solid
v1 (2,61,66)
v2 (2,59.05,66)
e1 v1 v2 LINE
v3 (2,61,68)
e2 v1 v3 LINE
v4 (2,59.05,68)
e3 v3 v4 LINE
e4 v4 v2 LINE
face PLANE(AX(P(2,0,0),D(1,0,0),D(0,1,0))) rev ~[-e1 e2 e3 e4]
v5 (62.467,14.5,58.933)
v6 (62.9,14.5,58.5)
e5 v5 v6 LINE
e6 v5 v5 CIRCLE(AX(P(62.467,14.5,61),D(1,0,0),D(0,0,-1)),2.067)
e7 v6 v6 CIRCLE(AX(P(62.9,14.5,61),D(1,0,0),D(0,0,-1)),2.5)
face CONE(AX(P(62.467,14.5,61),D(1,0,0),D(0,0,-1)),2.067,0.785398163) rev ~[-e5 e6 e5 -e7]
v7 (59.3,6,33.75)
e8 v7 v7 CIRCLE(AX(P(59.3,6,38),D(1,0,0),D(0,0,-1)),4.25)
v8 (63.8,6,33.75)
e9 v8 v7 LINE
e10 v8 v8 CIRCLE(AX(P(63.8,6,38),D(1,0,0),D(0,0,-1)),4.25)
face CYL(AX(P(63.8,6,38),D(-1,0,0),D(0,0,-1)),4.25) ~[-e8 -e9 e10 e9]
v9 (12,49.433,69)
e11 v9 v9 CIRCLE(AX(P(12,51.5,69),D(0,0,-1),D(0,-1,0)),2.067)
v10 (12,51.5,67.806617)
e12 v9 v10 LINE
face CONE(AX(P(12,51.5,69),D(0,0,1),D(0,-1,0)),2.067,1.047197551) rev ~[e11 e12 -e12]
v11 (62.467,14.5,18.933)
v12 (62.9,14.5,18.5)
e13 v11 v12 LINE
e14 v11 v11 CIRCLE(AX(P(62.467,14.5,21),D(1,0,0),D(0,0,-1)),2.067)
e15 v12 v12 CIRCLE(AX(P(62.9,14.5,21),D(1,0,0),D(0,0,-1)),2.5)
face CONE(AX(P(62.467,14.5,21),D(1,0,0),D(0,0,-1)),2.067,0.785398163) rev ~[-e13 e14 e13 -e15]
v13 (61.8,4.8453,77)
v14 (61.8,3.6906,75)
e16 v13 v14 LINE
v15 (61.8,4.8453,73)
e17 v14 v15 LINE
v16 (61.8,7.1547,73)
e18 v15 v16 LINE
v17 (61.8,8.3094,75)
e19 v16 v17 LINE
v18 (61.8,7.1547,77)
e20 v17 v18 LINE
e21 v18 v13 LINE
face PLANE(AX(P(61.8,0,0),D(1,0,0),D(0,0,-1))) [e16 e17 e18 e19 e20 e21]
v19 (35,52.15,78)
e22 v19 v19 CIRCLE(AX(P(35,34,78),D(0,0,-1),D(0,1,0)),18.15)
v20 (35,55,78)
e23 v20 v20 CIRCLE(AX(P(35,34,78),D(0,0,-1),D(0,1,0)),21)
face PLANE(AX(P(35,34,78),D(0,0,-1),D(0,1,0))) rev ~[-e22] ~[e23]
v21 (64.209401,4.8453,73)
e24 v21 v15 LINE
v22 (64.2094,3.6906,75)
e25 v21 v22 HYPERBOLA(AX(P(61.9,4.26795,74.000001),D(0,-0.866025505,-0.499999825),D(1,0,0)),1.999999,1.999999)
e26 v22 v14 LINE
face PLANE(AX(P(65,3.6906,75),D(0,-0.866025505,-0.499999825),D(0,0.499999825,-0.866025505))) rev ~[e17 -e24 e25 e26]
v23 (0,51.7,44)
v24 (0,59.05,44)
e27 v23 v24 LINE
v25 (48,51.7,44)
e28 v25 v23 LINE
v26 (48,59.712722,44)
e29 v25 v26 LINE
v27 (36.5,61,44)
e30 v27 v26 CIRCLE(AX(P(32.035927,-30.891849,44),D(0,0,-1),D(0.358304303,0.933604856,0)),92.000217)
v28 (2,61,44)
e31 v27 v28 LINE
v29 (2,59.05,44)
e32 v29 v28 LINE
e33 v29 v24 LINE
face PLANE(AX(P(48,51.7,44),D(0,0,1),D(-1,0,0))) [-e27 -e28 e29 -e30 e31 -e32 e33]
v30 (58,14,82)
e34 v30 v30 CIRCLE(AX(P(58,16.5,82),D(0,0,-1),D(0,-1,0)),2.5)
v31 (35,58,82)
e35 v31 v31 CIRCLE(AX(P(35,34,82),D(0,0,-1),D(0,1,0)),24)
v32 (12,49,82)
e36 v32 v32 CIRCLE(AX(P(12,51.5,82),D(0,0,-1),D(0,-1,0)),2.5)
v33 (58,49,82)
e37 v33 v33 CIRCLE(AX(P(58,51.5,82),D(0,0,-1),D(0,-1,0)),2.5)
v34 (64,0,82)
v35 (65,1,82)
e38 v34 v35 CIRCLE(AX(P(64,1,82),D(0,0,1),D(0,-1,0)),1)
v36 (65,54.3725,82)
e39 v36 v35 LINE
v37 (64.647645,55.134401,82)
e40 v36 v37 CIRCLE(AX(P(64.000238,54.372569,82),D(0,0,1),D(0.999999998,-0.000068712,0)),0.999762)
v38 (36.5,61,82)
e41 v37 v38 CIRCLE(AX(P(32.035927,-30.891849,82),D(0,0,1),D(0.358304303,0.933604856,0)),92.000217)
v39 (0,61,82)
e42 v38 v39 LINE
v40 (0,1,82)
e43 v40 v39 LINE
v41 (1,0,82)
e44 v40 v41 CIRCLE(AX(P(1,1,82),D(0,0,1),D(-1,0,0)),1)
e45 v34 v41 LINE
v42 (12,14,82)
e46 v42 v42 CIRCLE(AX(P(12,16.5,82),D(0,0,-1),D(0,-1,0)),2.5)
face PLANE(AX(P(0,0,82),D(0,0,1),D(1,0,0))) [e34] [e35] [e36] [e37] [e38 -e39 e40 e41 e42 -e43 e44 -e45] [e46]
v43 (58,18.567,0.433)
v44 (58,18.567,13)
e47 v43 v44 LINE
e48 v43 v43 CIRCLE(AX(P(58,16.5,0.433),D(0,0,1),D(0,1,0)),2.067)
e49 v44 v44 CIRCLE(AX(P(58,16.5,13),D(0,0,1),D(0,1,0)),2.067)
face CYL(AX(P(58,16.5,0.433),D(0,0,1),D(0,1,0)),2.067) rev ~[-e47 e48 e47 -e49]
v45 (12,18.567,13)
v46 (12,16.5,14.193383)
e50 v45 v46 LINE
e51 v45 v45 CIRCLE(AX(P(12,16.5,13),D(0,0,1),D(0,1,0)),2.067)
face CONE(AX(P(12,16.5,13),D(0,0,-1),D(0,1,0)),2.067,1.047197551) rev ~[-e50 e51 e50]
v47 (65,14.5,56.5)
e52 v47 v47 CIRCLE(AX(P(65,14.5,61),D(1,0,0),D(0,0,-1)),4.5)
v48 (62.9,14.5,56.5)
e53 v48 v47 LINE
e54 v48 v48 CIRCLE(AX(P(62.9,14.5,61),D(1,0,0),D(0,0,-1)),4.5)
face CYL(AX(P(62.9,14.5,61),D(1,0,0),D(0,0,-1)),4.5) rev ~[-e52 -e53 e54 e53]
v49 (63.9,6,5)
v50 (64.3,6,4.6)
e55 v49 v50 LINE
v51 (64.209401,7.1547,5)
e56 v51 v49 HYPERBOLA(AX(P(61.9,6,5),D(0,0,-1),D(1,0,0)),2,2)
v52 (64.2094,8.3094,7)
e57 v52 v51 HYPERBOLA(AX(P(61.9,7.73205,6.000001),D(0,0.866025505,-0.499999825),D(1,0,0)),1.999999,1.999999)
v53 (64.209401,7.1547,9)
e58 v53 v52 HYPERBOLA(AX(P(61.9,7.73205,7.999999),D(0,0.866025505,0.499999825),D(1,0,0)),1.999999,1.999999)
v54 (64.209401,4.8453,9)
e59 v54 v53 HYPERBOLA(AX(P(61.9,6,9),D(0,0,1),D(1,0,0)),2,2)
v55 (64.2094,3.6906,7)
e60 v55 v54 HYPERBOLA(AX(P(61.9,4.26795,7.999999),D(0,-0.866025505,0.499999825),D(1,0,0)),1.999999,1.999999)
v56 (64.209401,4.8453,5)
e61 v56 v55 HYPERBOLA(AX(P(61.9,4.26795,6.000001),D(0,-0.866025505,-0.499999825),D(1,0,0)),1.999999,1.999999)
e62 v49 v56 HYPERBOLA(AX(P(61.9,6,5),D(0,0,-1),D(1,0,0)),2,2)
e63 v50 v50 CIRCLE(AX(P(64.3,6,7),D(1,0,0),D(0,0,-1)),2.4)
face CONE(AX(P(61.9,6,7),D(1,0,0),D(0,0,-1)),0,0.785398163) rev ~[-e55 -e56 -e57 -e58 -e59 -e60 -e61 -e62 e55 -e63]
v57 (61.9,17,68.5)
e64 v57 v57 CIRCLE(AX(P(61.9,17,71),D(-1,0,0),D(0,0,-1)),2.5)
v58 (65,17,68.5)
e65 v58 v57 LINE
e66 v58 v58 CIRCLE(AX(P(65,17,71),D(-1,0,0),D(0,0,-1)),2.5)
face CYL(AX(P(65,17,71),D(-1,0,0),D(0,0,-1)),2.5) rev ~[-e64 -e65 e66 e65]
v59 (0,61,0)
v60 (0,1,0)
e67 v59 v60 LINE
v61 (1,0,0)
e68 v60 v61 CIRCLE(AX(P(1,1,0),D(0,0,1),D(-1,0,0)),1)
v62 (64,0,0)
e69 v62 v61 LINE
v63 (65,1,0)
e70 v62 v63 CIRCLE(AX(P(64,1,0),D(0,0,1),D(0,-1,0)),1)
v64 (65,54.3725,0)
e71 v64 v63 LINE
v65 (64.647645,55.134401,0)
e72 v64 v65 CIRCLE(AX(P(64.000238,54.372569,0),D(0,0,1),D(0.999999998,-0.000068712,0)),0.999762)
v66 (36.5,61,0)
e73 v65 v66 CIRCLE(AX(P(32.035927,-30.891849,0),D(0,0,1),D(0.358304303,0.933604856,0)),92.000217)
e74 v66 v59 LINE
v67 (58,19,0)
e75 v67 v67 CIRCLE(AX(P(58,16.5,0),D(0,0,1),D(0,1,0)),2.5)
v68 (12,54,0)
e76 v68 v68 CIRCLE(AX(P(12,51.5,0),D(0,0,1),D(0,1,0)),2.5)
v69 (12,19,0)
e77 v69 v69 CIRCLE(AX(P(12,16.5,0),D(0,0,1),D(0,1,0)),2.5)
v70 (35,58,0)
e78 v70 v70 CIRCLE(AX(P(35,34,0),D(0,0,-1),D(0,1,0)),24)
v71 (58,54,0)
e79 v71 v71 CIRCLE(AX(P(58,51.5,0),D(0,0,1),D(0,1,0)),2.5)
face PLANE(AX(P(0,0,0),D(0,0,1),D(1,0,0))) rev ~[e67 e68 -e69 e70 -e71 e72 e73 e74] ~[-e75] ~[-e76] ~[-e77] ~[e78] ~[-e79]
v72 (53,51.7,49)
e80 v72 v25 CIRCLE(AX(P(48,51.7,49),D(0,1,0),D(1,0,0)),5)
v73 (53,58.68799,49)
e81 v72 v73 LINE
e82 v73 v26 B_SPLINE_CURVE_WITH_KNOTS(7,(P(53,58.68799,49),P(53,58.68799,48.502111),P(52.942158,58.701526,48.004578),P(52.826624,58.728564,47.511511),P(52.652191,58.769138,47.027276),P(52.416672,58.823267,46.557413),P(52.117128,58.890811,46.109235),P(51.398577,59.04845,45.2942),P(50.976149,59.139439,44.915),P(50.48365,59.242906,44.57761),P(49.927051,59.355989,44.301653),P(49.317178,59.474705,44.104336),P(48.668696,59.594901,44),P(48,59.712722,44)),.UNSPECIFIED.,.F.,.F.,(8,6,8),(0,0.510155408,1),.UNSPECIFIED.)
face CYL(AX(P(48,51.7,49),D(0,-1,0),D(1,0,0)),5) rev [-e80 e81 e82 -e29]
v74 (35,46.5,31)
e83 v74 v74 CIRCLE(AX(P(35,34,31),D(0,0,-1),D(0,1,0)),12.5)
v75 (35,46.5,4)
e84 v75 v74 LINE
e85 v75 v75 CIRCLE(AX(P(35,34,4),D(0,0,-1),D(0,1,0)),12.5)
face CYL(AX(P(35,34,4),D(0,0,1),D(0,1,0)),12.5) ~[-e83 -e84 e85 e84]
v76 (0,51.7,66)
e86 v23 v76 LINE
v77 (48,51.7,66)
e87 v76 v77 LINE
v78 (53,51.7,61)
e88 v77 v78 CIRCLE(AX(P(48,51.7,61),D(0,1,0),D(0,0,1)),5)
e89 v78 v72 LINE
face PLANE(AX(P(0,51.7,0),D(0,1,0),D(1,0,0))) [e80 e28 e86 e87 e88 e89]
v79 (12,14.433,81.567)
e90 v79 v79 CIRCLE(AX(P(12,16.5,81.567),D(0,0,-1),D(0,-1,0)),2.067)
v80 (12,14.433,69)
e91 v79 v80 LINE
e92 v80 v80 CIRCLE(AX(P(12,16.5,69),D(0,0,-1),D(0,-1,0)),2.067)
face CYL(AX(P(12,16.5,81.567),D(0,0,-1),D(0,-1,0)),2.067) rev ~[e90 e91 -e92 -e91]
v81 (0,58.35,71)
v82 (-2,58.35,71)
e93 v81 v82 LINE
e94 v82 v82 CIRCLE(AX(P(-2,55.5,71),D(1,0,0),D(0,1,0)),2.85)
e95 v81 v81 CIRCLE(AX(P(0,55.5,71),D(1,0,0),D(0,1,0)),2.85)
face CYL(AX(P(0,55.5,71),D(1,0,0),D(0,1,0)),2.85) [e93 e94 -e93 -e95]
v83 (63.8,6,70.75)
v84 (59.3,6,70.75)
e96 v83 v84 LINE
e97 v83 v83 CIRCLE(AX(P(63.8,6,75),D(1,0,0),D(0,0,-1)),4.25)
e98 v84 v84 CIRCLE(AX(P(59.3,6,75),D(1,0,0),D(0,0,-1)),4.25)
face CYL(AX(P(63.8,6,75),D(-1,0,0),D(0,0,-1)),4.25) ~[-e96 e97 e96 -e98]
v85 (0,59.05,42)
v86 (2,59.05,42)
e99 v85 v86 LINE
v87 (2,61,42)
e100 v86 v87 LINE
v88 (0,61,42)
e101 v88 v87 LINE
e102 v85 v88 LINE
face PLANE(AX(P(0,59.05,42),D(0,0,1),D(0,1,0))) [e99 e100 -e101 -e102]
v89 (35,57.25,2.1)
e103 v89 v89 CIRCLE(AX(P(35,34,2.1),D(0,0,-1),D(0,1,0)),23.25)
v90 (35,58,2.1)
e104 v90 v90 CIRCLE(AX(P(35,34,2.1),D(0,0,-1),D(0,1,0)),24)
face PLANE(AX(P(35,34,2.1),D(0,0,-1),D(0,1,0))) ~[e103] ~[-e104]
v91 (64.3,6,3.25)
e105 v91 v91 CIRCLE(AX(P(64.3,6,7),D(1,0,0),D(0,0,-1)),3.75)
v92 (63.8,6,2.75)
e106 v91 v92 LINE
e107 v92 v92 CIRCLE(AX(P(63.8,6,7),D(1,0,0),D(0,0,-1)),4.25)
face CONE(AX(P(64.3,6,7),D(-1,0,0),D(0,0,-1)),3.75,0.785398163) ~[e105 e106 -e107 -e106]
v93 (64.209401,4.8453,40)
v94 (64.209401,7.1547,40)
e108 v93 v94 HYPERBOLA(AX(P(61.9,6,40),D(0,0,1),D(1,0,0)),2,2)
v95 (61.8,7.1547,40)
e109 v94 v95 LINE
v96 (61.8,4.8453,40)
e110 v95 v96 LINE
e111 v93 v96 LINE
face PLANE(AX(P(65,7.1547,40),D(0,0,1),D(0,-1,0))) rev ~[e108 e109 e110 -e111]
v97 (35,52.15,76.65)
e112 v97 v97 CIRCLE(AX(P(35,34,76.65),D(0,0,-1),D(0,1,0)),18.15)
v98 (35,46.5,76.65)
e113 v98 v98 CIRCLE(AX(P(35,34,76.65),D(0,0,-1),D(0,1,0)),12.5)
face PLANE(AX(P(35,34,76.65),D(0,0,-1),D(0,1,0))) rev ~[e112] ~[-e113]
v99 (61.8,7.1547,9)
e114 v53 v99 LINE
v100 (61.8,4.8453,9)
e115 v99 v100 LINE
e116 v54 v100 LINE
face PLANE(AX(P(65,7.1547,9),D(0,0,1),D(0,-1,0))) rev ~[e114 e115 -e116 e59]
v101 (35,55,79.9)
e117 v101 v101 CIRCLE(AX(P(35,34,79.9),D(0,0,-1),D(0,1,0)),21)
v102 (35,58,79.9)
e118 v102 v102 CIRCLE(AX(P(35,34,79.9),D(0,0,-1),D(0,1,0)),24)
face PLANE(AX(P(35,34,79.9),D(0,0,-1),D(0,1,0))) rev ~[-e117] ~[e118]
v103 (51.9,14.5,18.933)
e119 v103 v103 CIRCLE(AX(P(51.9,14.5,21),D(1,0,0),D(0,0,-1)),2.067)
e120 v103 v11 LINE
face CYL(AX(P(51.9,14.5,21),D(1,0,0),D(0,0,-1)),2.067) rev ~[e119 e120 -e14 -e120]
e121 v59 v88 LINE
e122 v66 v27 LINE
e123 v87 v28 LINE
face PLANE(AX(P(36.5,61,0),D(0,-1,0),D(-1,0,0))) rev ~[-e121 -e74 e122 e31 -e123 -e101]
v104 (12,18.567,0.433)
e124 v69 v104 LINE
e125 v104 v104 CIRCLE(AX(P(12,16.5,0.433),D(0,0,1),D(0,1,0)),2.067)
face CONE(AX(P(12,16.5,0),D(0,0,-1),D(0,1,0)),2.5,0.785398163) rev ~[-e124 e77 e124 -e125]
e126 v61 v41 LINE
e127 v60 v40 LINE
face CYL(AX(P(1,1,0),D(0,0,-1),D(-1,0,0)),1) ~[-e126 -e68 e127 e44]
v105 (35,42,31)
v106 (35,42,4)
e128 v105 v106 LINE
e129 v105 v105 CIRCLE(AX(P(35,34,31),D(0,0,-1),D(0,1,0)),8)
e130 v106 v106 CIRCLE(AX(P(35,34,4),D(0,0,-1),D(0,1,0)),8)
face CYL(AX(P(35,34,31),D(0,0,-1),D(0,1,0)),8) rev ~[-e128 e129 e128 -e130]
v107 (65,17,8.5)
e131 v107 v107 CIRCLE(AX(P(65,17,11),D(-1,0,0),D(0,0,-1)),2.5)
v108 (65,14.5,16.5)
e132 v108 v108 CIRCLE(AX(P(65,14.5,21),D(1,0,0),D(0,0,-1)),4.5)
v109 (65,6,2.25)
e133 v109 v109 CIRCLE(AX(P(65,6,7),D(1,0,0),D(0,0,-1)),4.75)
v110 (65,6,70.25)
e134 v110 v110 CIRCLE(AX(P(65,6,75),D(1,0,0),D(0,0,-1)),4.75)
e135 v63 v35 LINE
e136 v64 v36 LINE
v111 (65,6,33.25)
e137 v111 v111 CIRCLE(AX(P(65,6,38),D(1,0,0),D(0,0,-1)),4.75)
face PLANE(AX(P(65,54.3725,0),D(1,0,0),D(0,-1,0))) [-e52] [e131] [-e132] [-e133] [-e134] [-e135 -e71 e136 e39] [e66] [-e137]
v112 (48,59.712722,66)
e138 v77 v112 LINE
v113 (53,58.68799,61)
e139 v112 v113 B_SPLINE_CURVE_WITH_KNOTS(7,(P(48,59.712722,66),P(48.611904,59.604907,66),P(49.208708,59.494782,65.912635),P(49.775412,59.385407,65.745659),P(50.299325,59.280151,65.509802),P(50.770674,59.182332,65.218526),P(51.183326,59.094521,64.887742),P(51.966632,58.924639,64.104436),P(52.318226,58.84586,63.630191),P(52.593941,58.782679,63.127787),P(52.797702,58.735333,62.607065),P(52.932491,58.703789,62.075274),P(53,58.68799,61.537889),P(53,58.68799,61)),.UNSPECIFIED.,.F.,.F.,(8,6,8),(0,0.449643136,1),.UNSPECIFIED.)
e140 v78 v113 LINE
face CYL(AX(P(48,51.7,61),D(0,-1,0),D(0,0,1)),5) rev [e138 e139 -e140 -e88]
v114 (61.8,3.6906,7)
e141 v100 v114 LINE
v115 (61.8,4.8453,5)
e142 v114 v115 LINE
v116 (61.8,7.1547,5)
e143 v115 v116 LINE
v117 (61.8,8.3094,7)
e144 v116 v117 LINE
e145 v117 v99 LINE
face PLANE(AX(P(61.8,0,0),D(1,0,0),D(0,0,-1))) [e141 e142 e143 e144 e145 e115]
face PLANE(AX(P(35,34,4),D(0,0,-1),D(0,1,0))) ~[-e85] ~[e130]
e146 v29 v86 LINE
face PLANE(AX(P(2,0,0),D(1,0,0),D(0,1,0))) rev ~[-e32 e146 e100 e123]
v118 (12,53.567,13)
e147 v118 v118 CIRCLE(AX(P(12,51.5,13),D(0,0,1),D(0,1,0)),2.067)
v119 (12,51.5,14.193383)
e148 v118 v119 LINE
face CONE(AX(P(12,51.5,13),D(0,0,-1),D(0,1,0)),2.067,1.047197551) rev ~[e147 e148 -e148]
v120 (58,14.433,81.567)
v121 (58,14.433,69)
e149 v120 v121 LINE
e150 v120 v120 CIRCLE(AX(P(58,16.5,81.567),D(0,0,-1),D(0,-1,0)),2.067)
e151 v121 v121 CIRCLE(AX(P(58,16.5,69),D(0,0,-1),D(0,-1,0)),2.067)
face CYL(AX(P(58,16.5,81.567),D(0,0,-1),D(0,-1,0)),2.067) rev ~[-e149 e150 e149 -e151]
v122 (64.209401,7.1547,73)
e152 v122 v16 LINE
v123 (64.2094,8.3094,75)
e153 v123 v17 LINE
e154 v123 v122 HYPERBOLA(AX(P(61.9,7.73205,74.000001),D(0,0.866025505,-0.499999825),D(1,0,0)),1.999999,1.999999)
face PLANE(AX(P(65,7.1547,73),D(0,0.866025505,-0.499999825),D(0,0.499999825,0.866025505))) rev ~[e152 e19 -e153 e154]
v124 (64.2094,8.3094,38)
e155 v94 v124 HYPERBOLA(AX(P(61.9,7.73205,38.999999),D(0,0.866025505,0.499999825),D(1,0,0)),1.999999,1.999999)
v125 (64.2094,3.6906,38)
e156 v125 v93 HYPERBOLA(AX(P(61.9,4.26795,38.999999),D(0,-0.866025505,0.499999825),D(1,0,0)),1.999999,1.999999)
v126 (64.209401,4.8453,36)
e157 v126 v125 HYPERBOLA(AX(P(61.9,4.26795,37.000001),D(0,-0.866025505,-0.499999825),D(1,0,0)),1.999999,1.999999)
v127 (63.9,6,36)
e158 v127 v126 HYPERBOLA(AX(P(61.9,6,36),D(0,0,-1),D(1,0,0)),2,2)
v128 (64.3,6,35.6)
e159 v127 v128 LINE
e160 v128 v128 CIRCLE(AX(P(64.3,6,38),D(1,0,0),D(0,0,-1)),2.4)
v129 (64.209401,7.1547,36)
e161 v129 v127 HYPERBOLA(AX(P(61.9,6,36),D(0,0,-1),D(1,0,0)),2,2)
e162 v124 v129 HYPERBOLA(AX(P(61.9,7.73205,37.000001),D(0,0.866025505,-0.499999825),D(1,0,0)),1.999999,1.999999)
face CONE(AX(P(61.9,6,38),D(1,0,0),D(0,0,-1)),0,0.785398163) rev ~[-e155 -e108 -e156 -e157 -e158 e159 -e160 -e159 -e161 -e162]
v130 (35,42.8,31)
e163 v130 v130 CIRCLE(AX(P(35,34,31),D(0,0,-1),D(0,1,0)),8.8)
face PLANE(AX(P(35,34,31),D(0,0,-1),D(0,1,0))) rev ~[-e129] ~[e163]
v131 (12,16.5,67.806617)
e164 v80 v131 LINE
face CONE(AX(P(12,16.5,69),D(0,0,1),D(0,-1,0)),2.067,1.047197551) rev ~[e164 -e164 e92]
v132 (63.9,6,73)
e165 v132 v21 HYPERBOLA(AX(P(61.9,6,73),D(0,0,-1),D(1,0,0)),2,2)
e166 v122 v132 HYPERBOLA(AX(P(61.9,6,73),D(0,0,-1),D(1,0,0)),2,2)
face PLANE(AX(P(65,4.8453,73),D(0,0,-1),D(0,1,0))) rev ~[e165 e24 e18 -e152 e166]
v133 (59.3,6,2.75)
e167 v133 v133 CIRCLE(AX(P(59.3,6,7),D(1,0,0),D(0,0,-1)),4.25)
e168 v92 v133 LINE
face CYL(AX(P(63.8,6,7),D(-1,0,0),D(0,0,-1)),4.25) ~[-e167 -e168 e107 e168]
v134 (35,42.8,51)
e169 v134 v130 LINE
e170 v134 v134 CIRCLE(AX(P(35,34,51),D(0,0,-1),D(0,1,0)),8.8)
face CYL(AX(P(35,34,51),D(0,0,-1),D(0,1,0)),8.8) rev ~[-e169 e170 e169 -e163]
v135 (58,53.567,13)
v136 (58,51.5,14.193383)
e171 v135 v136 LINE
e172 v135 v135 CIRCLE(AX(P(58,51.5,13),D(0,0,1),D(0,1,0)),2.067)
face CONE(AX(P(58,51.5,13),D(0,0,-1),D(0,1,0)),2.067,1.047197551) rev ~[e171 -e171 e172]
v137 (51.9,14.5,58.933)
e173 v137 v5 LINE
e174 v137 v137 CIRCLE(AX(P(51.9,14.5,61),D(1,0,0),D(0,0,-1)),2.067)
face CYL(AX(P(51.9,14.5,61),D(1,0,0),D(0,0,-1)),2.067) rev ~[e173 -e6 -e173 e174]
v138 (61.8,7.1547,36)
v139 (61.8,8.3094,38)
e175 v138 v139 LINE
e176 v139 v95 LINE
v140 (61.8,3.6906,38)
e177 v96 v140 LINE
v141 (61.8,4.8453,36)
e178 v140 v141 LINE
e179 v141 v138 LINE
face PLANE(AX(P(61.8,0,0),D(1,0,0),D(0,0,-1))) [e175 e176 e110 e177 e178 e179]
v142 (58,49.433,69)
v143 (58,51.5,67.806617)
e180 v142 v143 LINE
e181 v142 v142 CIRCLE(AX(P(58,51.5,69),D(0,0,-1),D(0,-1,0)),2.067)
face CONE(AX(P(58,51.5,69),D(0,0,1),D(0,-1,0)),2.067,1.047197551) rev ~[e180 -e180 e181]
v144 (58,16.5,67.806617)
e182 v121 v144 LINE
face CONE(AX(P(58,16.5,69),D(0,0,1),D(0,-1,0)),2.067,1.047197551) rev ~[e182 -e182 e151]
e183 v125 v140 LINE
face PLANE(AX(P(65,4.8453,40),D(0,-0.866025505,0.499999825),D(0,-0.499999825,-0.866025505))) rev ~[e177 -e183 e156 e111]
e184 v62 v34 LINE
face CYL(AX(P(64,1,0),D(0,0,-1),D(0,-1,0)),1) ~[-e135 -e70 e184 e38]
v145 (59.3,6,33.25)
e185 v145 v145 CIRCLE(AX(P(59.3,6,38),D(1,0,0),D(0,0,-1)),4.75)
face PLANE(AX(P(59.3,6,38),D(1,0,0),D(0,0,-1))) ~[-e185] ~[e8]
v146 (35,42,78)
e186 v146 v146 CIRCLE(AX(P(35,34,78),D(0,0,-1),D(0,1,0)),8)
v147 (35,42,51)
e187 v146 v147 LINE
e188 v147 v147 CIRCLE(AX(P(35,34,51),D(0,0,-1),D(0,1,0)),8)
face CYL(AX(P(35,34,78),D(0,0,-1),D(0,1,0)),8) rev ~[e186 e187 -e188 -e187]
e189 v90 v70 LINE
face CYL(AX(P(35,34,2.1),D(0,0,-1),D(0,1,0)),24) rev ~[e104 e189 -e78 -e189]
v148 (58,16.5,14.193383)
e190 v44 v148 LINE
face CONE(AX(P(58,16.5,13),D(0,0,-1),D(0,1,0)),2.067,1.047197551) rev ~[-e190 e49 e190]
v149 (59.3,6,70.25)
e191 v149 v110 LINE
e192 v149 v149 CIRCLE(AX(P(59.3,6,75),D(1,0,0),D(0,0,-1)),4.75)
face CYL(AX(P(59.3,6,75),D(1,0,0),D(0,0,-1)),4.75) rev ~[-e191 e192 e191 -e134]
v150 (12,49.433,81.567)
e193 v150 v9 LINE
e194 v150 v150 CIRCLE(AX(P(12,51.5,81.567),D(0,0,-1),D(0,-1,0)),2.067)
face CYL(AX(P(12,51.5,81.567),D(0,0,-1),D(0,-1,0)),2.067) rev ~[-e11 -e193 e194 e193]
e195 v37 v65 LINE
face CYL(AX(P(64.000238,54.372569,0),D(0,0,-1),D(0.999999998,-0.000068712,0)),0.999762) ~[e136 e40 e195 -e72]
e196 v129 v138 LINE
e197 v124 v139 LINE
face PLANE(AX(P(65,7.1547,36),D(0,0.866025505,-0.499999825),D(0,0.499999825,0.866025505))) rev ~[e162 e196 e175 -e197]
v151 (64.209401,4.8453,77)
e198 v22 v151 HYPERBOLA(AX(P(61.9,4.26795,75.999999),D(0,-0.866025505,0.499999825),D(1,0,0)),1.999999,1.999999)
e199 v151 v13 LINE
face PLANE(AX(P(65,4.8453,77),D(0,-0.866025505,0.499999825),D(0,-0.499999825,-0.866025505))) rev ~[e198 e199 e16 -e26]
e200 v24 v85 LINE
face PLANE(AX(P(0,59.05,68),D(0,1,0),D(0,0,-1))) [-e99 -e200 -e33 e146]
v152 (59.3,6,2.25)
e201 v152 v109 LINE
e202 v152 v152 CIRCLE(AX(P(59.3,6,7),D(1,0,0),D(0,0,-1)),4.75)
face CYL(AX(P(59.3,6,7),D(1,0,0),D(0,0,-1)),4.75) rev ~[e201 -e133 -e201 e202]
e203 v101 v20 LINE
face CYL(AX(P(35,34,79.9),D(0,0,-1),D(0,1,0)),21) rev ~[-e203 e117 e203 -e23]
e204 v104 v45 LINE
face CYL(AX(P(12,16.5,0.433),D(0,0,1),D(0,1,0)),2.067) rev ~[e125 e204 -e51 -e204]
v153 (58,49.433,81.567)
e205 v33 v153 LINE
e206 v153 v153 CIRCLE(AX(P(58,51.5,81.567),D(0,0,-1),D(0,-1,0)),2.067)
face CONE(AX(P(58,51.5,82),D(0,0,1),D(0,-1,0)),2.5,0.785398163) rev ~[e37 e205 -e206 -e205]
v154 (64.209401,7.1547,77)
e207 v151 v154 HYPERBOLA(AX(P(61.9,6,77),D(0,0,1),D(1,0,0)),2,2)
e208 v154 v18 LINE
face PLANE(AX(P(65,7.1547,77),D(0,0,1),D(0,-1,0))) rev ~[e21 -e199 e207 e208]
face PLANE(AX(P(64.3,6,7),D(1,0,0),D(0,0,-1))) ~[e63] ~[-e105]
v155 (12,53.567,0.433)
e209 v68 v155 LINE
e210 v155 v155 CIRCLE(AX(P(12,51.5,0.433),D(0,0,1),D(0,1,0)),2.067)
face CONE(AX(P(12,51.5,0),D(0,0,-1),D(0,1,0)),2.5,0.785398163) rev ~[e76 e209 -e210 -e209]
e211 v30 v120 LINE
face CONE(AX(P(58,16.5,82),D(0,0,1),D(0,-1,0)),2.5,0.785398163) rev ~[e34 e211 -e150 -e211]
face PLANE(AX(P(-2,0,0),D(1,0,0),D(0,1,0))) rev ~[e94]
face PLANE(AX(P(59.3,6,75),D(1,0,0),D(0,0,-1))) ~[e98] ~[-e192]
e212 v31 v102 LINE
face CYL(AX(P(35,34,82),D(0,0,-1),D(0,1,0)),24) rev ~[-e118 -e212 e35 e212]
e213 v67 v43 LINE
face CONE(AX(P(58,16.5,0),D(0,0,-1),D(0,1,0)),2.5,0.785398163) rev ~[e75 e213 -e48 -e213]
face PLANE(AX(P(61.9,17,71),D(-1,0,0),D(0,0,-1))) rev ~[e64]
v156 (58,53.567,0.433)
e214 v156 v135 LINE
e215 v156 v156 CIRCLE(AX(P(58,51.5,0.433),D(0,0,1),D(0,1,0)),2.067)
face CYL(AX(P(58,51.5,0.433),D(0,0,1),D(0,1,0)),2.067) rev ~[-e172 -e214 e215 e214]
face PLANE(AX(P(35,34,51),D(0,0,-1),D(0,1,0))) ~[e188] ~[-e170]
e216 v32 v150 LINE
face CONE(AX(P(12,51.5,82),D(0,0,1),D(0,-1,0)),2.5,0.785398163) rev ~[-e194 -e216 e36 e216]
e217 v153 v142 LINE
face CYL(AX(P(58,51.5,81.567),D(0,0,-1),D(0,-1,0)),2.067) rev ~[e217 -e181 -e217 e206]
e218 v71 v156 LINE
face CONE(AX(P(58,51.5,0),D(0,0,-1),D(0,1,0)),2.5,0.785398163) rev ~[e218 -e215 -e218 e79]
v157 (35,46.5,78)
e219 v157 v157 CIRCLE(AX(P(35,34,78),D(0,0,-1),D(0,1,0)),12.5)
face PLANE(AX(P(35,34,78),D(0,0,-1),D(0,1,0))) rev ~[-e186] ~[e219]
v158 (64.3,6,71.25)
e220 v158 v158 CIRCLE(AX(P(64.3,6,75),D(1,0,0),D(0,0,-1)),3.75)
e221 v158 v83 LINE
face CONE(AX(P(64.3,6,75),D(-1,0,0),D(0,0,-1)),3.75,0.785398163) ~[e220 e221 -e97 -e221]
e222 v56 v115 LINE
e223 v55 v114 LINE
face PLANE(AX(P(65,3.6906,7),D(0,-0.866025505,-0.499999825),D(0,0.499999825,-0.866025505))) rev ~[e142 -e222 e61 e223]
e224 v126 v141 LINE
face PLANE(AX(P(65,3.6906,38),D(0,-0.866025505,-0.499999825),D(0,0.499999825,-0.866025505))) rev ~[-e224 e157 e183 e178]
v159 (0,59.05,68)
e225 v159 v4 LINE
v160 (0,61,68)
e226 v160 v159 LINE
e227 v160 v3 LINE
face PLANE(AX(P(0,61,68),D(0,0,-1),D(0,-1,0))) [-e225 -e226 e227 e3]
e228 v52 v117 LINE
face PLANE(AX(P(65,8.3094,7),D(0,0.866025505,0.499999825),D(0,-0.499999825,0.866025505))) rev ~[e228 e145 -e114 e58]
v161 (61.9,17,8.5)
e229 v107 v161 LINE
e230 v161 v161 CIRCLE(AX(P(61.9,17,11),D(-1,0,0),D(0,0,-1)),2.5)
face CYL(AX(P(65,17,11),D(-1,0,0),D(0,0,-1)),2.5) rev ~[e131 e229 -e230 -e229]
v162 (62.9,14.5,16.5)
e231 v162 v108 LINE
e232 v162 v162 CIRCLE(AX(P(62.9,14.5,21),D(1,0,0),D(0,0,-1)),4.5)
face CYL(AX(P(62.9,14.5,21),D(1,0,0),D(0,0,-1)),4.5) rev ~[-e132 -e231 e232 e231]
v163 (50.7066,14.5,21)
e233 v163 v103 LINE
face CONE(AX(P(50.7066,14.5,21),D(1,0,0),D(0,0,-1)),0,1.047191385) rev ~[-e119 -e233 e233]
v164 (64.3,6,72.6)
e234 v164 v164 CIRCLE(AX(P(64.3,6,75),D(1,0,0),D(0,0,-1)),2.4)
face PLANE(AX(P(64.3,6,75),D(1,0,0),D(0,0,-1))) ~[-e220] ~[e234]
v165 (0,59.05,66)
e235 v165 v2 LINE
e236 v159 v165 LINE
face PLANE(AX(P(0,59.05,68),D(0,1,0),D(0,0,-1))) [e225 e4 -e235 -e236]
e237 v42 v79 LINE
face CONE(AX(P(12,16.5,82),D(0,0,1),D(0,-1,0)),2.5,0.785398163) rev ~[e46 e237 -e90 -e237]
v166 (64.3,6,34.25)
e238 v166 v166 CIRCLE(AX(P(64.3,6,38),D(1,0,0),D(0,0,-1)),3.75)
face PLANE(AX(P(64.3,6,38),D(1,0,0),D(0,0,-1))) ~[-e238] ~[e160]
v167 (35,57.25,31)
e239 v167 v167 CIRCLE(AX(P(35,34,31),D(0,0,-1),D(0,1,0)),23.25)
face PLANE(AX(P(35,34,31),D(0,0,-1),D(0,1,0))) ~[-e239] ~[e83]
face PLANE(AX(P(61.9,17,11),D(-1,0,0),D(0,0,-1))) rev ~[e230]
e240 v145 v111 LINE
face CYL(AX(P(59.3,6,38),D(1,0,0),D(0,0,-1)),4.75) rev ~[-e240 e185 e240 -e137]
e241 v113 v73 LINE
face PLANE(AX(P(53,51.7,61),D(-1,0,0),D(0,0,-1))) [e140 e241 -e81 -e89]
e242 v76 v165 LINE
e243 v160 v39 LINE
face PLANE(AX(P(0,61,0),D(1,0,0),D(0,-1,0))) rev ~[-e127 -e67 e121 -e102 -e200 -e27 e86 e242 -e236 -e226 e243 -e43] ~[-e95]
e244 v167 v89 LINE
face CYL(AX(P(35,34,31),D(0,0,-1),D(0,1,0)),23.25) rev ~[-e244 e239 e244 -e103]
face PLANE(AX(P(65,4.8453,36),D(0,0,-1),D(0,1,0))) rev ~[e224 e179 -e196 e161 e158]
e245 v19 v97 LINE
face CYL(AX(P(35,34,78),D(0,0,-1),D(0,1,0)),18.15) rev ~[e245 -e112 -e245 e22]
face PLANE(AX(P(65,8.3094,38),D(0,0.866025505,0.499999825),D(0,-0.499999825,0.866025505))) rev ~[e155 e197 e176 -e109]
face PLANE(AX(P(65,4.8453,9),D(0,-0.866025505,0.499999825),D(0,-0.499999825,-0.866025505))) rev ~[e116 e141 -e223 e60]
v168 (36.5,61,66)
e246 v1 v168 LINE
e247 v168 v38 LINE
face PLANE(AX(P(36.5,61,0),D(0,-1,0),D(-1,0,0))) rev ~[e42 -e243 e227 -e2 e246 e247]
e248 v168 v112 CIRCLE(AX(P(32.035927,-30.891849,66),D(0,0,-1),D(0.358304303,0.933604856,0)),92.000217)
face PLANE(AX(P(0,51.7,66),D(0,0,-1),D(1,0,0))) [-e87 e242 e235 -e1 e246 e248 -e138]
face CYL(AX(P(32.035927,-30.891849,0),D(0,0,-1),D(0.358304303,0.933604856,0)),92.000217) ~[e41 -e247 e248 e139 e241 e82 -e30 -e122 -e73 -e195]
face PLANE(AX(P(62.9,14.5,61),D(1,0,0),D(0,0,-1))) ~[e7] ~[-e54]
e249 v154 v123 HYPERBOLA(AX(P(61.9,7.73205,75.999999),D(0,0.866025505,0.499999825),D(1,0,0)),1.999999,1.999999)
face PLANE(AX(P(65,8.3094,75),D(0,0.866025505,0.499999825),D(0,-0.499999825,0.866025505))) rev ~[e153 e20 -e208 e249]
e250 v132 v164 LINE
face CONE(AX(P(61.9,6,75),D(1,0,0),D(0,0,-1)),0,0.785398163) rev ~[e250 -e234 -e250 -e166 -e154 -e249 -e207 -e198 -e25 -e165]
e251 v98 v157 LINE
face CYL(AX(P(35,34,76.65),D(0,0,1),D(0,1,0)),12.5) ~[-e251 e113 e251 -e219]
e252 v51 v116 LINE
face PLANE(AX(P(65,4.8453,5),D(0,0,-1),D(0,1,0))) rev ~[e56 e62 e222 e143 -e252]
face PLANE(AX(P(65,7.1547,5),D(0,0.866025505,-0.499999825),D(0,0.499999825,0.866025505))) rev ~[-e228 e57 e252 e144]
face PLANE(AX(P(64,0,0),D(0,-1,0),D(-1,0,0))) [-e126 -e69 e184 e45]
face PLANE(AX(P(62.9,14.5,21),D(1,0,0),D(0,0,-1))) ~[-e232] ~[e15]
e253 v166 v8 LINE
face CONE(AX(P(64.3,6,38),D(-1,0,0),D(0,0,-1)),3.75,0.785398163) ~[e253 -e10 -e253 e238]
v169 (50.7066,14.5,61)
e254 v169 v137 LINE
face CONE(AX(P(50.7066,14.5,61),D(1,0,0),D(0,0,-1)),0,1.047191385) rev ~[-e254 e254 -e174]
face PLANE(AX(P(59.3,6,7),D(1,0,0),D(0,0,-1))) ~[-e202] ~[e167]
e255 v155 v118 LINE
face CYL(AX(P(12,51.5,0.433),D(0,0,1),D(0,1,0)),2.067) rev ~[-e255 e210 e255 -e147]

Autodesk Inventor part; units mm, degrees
sketch "Sketch_28" plane through (0, 0, 0) normal (0, 0, 1) x (1, 0, 0)
  line L0 (0, 61) -> (0, 0)
  line L1 (0, 0) -> (65, 0)
  line L2 (65, 0) -> (65, 55)
  arc A0 (65, 55) -> (36.5, 61) centre (32.036, -30.8916) ccw
  line L3 (36.5, 61) -> (0, 61)
extrude "Extrusion1" add sketch "Sketch_28" along normal blind 82
sketch "Sketch_20" plane through (0, 0, 0) normal (0, 0, 1) x (1, 0, 0)
  line L0 (-2, 5) -> (-2, -1)
  line L1 (-2, -1) -> (66, -1)
  line L2 (66, -1) -> (66, 57)
  line L3 (66, 57) -> (64, 57)
  line L4 (64, 57) -> (64, 55.4781)
  arc A0 (64.4301, 55.2752) -> (64, 55.4781) centre (38.6219, 1.1094) ccw
  arc A1 (65, 54.3725) -> (64.4301, 55.2752) centre (64, 54.3725) ccw
  line L5 (65, 54.3725) -> (65, 1)
  arc A2 (64, 0) -> (65, 1) centre (64, 1) ccw
  line L6 (64, 0) -> (1, 0)
  arc A3 (0, 1) -> (1, 0) centre (1, 1) ccw
  line L7 (0, 1) -> (0, 5)
  line L8 (0, 5) -> (-2, 5)
extrude "Extrusion2" cut sketch "Sketch_20" along normal blind 82
sketch "Sketch3" plane through (0, 0, 82) normal (0, 0, 1) x (1, 0, 0)
  point P0 (12, 16.5)
hole "Hole1" at (12, 16.5, 82) direction (0, 0, -1) diameter 4.134 depth 13 tip angle 120 countersink diameter 5 countersink angle 90 thread size "M5x0.8" class "6H" standard "ISO Metric profile"
sketch "Sketch4" plane through (0, 0, 82) normal (0, 0, 1) x (1, 0, 0)
  point P0 (12, 51.5)
hole "Hole2" at (12, 51.5, 82) direction (0, 0, -1) diameter 4.134 depth 13 tip angle 120 countersink diameter 5 countersink angle 90 thread size "M5x0.8" class "6H" standard "ISO Metric profile"
sketch "Sketch5" plane through (0, 0, 0) normal (0, 0, -1) x (-1, 0, 0)
  point P0 (-12, 16.5)
hole "Hole3" at (12, 16.5, 0) direction (0, 0, 1) diameter 4.134 depth 13 tip angle 120 countersink diameter 5 countersink angle 90 thread size "M5x0.8" class "6H" standard "ISO Metric profile"
sketch "Sketch6" plane through (0, 0, 0) normal (0, 0, -1) x (-1, 0, 0)
  point P0 (-12, 51.5)
hole "Hole4" at (12, 51.5, 0) direction (0, 0, 1) diameter 4.134 depth 13 tip angle 120 countersink diameter 5 countersink angle 90 thread size "M5x0.8" class "6H" standard "ISO Metric profile"
sketch "Sketch7" plane through (0, 0, 82) normal (0, 0, 1) x (1, 0, 0)
  point P0 (58, 16.5)
hole "Hole5" at (58, 16.5, 82) direction (0, 0, -1) diameter 4.134 depth 13 tip angle 120 countersink diameter 5 countersink angle 90 thread size "M5x0.8" class "6H" standard "ISO Metric profile"
sketch "Sketch8" plane through (0, 0, 82) normal (0, 0, 1) x (1, 0, 0)
  point P0 (58, 51.5)
hole "Hole6" at (58, 51.5, 82) direction (0, 0, -1) diameter 4.134 depth 13 tip angle 120 countersink diameter 5 countersink angle 90 thread size "M5x0.8" class "6H" standard "ISO Metric profile"
sketch "Sketch9" plane through (0, 0, 0) normal (0, 0, -1) x (-1, 0, 0)
  point P0 (-58, 16.5)
hole "Hole7" at (58, 16.5, 0) direction (0, 0, 1) diameter 4.134 depth 13 tip angle 120 countersink diameter 5 countersink angle 90 thread size "M5x0.8" class "6H" standard "ISO Metric profile"
sketch "Sketch10" plane through (0, 0, 0) normal (0, 0, -1) x (-1, 0, 0)
  point P0 (-58, 51.5)
hole "Hole8" at (58, 51.5, 0) direction (0, 0, 1) diameter 4.134 depth 13 tip angle 120 countersink diameter 5 countersink angle 90 thread size "M5x0.8" class "6H" standard "ISO Metric profile"
sketch "Sketch_13" plane through (0, 0, 0) normal (1, 0, 0) x (0, 1, 0)
  circle A0 centre (55.5, 71) radius 2.85
extrude "Extrusion3" add sketch "Sketch_13" against normal blind 2
sketch "Sketch12" plane through (65, 1, 0) normal (1, 0, 0) x (0, 0, -1)
  point P0 (-71, 16)
hole "Hole9" at (65, 17, 71) direction (-1, 0, 0) diameter 5 depth 3.1
sketch "Sketch13" plane through (65, 1, 0) normal (1, 0, 0) x (0, 0, -1)
  point P0 (-11, 16)
hole "Hole10" at (65, 17, 11) direction (-1, 0, 0) diameter 5 depth 3.1
sketch "Sketch_18" plane through (0, 14.5, 0) normal (0, 1, 0) x (1, 0, 0)
  line L0 (65, -61) -> (50.7066, -61)
  line L1 (50.7066, -61) -> (51.9, -58.933)
  line L2 (51.9, -58.933) -> (62.467, -58.933)
  line L3 (62.467, -58.933) -> (62.9, -58.5)
  line L4 (62.9, -58.5) -> (62.9, -56.5)
  line L5 (62.9, -56.5) -> (65, -56.5)
  line L6 (65, -56.5) -> (65, -61)
  line L7 (65, -61) -> (50.7066, -61)
revolve "Revolution1" cut sketch "Sketch_18" angle 360 about axis through (65, 14.5, 61) along (1, 0, 0)
thread "Thread1" size "M5x0.8" class "6H" standard "ISO Metric profile" length 7.567
sketch "Sketch_19" plane through (0, 14.5, 0) normal (0, 1, 0) x (1, 0, 0)
  line L0 (65, -21) -> (50.7066, -21)
  line L1 (50.7066, -21) -> (51.9, -18.933)
  line L2 (51.9, -18.933) -> (62.467, -18.933)
  line L3 (62.467, -18.933) -> (62.9, -18.5)
  line L4 (62.9, -18.5) -> (62.9, -16.5)
  line L5 (62.9, -16.5) -> (65, -16.5)
  line L6 (65, -16.5) -> (65, -21)
  line L7 (65, -21) -> (50.7066, -21)
revolve "Revolution2" cut sketch "Sketch_19" angle 360 about axis through (65, 14.5, 21) along (1, 0, 0)
thread "Thread2" size "M5x0.8" class "6H" standard "ISO Metric profile" length 7.567
sketch "Sketch_26" plane through (0, 6, 0) normal (0, 1, 0) x (1, 0, 0)
  line L0 (65, -7) -> (61.9, -7)
  line L1 (61.9, -7) -> (64.3, -4.6)
  line L2 (64.3, -4.6) -> (64.3, -3.25)
  line L3 (64.3, -3.25) -> (63.8, -2.75)
  line L4 (63.8, -2.75) -> (59.3, -2.75)
  line L5 (59.3, -2.75) -> (59.3, -2.25)
  line L6 (59.3, -2.25) -> (65, -2.25)
  line L7 (65, -2.25) -> (65, -7)
  line L8 (65, -7) -> (61.9, -7)
revolve "Revolution3" cut sketch "Sketch_26" angle 360 about axis through (65, 6, 7) along (1, 0, 0)
sketch "Pattern_1_SKETCH_1" plane through (0, 6, 0) normal (0, 1, 0) x (1, 0, 0)
  line L0 (65, -38) -> (61.9, -38)
  line L1 (61.9, -38) -> (64.3, -35.6)
  line L2 (64.3, -35.6) -> (64.3, -34.25)
  line L3 (64.3, -34.25) -> (63.8, -33.75)
  line L4 (63.8, -33.75) -> (59.3, -33.75)
  line L5 (59.3, -33.75) -> (59.3, -33.25)
  line L6 (59.3, -33.25) -> (65, -33.25)
  line L7 (65, -33.25) -> (65, -38)
  line L8 (65, -38) -> (61.9, -38)
sketch "Pattern_1_SKETCH_2" plane through (0, 6, 0) normal (0, 1, 0) x (1, 0, 0)
  line L0 (65, -75) -> (61.9, -75)
  line L1 (61.9, -75) -> (64.3, -72.6)
  line L2 (64.3, -72.6) -> (64.3, -71.25)
  line L3 (64.3, -71.25) -> (63.8, -70.75)
  line L4 (63.8, -70.75) -> (59.3, -70.75)
  line L5 (59.3, -70.75) -> (59.3, -70.25)
  line L6 (59.3, -70.25) -> (65, -70.25)
  line L7 (65, -70.25) -> (65, -75)
  line L8 (65, -75) -> (61.9, -75)
revolve "Revolution4" cut sketch "Pattern_1_SKETCH_1" angle 360 about axis through (65, 6, 38) along (1, 0, 0)
revolve "Revolution5" cut sketch "Pattern_1_SKETCH_2" angle 360 about axis through (65, 6, 75) along (1, 0, 0)
sketch "Sketch_30" plane through (65, 0, 0) normal (1, 0, 0) x (0, 0, -1)
  line L0 (-9, 4.8453) -> (-7, 3.6906)
  line L1 (-7, 3.6906) -> (-5, 4.8453)
  line L2 (-5, 4.8453) -> (-5, 7.1547)
  line L3 (-5, 7.1547) -> (-7, 8.3094)
  line L4 (-7, 8.3094) -> (-9, 7.1547)
  line L5 (-9, 7.1547) -> (-9, 4.8453)
extrude "Extrusion4" cut sketch "Sketch_30" against normal blind 3.2
sketch "Pattern_2_SKETCH_1" plane through (65, 0, 0) normal (1, 0, 0) x (0, 0, -1)
  line L0 (-40, 4.8453) -> (-38, 3.6906)
  line L1 (-38, 3.6906) -> (-36, 4.8453)
  line L2 (-36, 4.8453) -> (-36, 7.1547)
  line L3 (-36, 7.1547) -> (-38, 8.3094)
  line L4 (-38, 8.3094) -> (-40, 7.1547)
  line L5 (-40, 7.1547) -> (-40, 4.8453)
sketch "Pattern_2_SKETCH_2" plane through (65, 0, 0) normal (1, 0, 0) x (0, 0, -1)
  line L0 (-77, 4.8453) -> (-75, 3.6906)
  line L1 (-75, 3.6906) -> (-73, 4.8453)
  line L2 (-73, 4.8453) -> (-73, 7.1547)
  line L3 (-73, 7.1547) -> (-75, 8.3094)
  line L4 (-75, 8.3094) -> (-77, 7.1547)
  line L5 (-77, 7.1547) -> (-77, 4.8453)
extrude "Extrusion5" cut sketch "Pattern_2_SKETCH_1" against normal blind 3.2
extrude "Extrusion6" cut sketch "Pattern_2_SKETCH_2" against normal blind 3.2
sketch "Sketch_27" plane through (0, 51.7, 0) normal (0, 1, 0) x (1, 0, 0)
  line L0 (0, -44) -> (0, -66)
  line L1 (0, -66) -> (48, -66)
  arc A0 (48, -66) -> (53, -61) centre (48, -61) ccw
  line L2 (53, -61) -> (53, -49)
  arc A1 (53, -49) -> (48, -44) centre (48, -49) ccw
  line L3 (48, -44) -> (0, -44)
extrude "Extrusion7" cut sketch "Sketch_27" along normal blind 9.3
sketch "Sketch_24" plane through (0, 0, 0) normal (1, 0, 0) x (0, 1, 0)
  line L0 (59.05, 68) -> (59.05, 42)
  line L1 (59.05, 42) -> (61, 42)
  line L2 (61, 42) -> (61, 68)
  line L3 (61, 68) -> (59.05, 68)
extrude "Extrusion8" cut sketch "Sketch_24" along normal blind 2
sketch "Sketch_32" plane through (35, 0, 0) normal (1, 0, 0) x (0, 0, -1)
  line L0 (0, 34) -> (-82, 34)
  line L1 (-82, 34) -> (-82, 58)
  line L2 (-82, 58) -> (-79.9, 58)
  line L3 (-79.9, 58) -> (-79.9, 55)
  line L4 (-79.9, 55) -> (-78, 55)
  line L5 (-78, 55) -> (-78, 52.15)
  line L6 (-78, 52.15) -> (-76.65, 52.15)
  line L7 (-76.65, 52.15) -> (-76.65, 46.5)
  line L8 (-76.65, 46.5) -> (-78, 46.5)
  line L9 (-78, 46.5) -> (-78, 42)
  line L10 (-78, 42) -> (-51, 42)
  line L11 (-51, 42) -> (-51, 42.8)
  line L12 (-51, 42.8) -> (-31, 42.8)
  line L13 (-31, 42.8) -> (-31, 42)
  line L14 (-31, 42) -> (-4, 42)
  line L15 (-4, 42) -> (-4, 46.5)
  line L16 (-4, 46.5) -> (-31, 46.5)
  line L17 (-31, 46.5) -> (-31, 57.25)
  line L18 (-31, 57.25) -> (-2.1, 57.25)
  line L19 (-2.1, 57.25) -> (-2.1, 58)
  line L20 (-2.1, 58) -> (0, 58)
  line L21 (0, 58) -> (0, 34)
  line L22 (0, 34) -> (-82, 34)
revolve "Revolution6" cut sketch "Sketch_32" angle 360 about axis through (35, 34, 0) along (0, 0, -1)
ref_plane "AXIAL_R_H_XY" through (35, 34, 0) normal (0, 0, 1) x (1, 0, 0)
ref_plane "AXIAL_R_H_YZ" through (35, 34, 0) normal (1, 0, 0) x (0, 1, 0)
ref_plane "AXIAL_R_H_ZX" through (35, 34, 0) normal (0, 1, 0) x (0, 0, 1)
ref_plane "AXIAL_R_V_XY" through (35, 34, 82) normal (0, 0, -1) x (1, 0, 0)
ref_plane "AXIAL_R_V_YZ" through (35, 34, 82) normal (1, 0, 0) x (0, -1, 0)
ref_plane "AXIAL_R_V_ZX" through (35, 34, 82) normal (0, -1, 0) x (0, 0, -1)
ref_plane "CUP1_XY" through (35, 34, 0) normal (0, 0, -1) x (1, 0, 0)
ref_plane "CUP1_YZ" through (35, 34, 0) normal (1, 0, 0) x (0, -1, 0)
ref_plane "CUP1_ZX" through (35, 34, 0) normal (0, -1, 0) x (0, 0, -1)
ref_plane "CUP2_XY" through (35, 34, 82) normal (0, 0, 1) x (1, 0, 0)
ref_plane "CUP2_YZ" through (35, 34, 82) normal (1, 0, 0) x (0, 1, 0)
ref_plane "CUP2_ZX" through (35, 34, 82) normal (0, 1, 0) x (0, 0, 1)
ref_plane "DR_XY" through (0, -0.5, 41) normal (-1, 0, 0) x (0, 0, 1)
ref_plane "DR_YZ" through (0, -0.5, 41) normal (0, 0, 1) x (0, 1, 0)
ref_plane "DR_ZX" through (0, -0.5, 41) normal (0, 1, 0) x (-1, 0, 0)
ref_plane "TO_AK_XY" through (0, 51.7, 55) normal (1, 0, 0) x (0, 0, -1)
ref_plane "TO_AK_YZ" through (0, 51.7, 55) normal (0, 0, -1) x (0, 1, 0)
ref_plane "TO_AK_ZX" through (0, 51.7, 55) normal (0, 1, 0) x (1, 0, 0)
ref_plane "WELLENZAPFEN_R_H_XY" through (35, 34, 4) normal (0, 0, 1) x (1, 0, 0)
ref_plane "WELLENZAPFEN_R_H_YZ" through (35, 34, 4) normal (1, 0, 0) x (0, 1, 0)
ref_plane "WELLENZAPFEN_R_H_ZX" through (35, 34, 4) normal (0, 1, 0) x (0, 0, 1)
ref_plane "WELLENZAPFEN_R_V_XY" through (35, 34, 78) normal (0, 0, -1) x (1, 0, 0)
ref_plane "WELLENZAPFEN_R_V_YZ" through (35, 34, 78) normal (1, 0, 0) x (0, -1, 0)
ref_plane "WELLENZAPFEN_R_V_ZX" through (35, 34, 78) normal (0, -1, 0) x (0, 0, -1)
properties part number "EGC-80-TB-KF___(0_0_Deckel RE)"
